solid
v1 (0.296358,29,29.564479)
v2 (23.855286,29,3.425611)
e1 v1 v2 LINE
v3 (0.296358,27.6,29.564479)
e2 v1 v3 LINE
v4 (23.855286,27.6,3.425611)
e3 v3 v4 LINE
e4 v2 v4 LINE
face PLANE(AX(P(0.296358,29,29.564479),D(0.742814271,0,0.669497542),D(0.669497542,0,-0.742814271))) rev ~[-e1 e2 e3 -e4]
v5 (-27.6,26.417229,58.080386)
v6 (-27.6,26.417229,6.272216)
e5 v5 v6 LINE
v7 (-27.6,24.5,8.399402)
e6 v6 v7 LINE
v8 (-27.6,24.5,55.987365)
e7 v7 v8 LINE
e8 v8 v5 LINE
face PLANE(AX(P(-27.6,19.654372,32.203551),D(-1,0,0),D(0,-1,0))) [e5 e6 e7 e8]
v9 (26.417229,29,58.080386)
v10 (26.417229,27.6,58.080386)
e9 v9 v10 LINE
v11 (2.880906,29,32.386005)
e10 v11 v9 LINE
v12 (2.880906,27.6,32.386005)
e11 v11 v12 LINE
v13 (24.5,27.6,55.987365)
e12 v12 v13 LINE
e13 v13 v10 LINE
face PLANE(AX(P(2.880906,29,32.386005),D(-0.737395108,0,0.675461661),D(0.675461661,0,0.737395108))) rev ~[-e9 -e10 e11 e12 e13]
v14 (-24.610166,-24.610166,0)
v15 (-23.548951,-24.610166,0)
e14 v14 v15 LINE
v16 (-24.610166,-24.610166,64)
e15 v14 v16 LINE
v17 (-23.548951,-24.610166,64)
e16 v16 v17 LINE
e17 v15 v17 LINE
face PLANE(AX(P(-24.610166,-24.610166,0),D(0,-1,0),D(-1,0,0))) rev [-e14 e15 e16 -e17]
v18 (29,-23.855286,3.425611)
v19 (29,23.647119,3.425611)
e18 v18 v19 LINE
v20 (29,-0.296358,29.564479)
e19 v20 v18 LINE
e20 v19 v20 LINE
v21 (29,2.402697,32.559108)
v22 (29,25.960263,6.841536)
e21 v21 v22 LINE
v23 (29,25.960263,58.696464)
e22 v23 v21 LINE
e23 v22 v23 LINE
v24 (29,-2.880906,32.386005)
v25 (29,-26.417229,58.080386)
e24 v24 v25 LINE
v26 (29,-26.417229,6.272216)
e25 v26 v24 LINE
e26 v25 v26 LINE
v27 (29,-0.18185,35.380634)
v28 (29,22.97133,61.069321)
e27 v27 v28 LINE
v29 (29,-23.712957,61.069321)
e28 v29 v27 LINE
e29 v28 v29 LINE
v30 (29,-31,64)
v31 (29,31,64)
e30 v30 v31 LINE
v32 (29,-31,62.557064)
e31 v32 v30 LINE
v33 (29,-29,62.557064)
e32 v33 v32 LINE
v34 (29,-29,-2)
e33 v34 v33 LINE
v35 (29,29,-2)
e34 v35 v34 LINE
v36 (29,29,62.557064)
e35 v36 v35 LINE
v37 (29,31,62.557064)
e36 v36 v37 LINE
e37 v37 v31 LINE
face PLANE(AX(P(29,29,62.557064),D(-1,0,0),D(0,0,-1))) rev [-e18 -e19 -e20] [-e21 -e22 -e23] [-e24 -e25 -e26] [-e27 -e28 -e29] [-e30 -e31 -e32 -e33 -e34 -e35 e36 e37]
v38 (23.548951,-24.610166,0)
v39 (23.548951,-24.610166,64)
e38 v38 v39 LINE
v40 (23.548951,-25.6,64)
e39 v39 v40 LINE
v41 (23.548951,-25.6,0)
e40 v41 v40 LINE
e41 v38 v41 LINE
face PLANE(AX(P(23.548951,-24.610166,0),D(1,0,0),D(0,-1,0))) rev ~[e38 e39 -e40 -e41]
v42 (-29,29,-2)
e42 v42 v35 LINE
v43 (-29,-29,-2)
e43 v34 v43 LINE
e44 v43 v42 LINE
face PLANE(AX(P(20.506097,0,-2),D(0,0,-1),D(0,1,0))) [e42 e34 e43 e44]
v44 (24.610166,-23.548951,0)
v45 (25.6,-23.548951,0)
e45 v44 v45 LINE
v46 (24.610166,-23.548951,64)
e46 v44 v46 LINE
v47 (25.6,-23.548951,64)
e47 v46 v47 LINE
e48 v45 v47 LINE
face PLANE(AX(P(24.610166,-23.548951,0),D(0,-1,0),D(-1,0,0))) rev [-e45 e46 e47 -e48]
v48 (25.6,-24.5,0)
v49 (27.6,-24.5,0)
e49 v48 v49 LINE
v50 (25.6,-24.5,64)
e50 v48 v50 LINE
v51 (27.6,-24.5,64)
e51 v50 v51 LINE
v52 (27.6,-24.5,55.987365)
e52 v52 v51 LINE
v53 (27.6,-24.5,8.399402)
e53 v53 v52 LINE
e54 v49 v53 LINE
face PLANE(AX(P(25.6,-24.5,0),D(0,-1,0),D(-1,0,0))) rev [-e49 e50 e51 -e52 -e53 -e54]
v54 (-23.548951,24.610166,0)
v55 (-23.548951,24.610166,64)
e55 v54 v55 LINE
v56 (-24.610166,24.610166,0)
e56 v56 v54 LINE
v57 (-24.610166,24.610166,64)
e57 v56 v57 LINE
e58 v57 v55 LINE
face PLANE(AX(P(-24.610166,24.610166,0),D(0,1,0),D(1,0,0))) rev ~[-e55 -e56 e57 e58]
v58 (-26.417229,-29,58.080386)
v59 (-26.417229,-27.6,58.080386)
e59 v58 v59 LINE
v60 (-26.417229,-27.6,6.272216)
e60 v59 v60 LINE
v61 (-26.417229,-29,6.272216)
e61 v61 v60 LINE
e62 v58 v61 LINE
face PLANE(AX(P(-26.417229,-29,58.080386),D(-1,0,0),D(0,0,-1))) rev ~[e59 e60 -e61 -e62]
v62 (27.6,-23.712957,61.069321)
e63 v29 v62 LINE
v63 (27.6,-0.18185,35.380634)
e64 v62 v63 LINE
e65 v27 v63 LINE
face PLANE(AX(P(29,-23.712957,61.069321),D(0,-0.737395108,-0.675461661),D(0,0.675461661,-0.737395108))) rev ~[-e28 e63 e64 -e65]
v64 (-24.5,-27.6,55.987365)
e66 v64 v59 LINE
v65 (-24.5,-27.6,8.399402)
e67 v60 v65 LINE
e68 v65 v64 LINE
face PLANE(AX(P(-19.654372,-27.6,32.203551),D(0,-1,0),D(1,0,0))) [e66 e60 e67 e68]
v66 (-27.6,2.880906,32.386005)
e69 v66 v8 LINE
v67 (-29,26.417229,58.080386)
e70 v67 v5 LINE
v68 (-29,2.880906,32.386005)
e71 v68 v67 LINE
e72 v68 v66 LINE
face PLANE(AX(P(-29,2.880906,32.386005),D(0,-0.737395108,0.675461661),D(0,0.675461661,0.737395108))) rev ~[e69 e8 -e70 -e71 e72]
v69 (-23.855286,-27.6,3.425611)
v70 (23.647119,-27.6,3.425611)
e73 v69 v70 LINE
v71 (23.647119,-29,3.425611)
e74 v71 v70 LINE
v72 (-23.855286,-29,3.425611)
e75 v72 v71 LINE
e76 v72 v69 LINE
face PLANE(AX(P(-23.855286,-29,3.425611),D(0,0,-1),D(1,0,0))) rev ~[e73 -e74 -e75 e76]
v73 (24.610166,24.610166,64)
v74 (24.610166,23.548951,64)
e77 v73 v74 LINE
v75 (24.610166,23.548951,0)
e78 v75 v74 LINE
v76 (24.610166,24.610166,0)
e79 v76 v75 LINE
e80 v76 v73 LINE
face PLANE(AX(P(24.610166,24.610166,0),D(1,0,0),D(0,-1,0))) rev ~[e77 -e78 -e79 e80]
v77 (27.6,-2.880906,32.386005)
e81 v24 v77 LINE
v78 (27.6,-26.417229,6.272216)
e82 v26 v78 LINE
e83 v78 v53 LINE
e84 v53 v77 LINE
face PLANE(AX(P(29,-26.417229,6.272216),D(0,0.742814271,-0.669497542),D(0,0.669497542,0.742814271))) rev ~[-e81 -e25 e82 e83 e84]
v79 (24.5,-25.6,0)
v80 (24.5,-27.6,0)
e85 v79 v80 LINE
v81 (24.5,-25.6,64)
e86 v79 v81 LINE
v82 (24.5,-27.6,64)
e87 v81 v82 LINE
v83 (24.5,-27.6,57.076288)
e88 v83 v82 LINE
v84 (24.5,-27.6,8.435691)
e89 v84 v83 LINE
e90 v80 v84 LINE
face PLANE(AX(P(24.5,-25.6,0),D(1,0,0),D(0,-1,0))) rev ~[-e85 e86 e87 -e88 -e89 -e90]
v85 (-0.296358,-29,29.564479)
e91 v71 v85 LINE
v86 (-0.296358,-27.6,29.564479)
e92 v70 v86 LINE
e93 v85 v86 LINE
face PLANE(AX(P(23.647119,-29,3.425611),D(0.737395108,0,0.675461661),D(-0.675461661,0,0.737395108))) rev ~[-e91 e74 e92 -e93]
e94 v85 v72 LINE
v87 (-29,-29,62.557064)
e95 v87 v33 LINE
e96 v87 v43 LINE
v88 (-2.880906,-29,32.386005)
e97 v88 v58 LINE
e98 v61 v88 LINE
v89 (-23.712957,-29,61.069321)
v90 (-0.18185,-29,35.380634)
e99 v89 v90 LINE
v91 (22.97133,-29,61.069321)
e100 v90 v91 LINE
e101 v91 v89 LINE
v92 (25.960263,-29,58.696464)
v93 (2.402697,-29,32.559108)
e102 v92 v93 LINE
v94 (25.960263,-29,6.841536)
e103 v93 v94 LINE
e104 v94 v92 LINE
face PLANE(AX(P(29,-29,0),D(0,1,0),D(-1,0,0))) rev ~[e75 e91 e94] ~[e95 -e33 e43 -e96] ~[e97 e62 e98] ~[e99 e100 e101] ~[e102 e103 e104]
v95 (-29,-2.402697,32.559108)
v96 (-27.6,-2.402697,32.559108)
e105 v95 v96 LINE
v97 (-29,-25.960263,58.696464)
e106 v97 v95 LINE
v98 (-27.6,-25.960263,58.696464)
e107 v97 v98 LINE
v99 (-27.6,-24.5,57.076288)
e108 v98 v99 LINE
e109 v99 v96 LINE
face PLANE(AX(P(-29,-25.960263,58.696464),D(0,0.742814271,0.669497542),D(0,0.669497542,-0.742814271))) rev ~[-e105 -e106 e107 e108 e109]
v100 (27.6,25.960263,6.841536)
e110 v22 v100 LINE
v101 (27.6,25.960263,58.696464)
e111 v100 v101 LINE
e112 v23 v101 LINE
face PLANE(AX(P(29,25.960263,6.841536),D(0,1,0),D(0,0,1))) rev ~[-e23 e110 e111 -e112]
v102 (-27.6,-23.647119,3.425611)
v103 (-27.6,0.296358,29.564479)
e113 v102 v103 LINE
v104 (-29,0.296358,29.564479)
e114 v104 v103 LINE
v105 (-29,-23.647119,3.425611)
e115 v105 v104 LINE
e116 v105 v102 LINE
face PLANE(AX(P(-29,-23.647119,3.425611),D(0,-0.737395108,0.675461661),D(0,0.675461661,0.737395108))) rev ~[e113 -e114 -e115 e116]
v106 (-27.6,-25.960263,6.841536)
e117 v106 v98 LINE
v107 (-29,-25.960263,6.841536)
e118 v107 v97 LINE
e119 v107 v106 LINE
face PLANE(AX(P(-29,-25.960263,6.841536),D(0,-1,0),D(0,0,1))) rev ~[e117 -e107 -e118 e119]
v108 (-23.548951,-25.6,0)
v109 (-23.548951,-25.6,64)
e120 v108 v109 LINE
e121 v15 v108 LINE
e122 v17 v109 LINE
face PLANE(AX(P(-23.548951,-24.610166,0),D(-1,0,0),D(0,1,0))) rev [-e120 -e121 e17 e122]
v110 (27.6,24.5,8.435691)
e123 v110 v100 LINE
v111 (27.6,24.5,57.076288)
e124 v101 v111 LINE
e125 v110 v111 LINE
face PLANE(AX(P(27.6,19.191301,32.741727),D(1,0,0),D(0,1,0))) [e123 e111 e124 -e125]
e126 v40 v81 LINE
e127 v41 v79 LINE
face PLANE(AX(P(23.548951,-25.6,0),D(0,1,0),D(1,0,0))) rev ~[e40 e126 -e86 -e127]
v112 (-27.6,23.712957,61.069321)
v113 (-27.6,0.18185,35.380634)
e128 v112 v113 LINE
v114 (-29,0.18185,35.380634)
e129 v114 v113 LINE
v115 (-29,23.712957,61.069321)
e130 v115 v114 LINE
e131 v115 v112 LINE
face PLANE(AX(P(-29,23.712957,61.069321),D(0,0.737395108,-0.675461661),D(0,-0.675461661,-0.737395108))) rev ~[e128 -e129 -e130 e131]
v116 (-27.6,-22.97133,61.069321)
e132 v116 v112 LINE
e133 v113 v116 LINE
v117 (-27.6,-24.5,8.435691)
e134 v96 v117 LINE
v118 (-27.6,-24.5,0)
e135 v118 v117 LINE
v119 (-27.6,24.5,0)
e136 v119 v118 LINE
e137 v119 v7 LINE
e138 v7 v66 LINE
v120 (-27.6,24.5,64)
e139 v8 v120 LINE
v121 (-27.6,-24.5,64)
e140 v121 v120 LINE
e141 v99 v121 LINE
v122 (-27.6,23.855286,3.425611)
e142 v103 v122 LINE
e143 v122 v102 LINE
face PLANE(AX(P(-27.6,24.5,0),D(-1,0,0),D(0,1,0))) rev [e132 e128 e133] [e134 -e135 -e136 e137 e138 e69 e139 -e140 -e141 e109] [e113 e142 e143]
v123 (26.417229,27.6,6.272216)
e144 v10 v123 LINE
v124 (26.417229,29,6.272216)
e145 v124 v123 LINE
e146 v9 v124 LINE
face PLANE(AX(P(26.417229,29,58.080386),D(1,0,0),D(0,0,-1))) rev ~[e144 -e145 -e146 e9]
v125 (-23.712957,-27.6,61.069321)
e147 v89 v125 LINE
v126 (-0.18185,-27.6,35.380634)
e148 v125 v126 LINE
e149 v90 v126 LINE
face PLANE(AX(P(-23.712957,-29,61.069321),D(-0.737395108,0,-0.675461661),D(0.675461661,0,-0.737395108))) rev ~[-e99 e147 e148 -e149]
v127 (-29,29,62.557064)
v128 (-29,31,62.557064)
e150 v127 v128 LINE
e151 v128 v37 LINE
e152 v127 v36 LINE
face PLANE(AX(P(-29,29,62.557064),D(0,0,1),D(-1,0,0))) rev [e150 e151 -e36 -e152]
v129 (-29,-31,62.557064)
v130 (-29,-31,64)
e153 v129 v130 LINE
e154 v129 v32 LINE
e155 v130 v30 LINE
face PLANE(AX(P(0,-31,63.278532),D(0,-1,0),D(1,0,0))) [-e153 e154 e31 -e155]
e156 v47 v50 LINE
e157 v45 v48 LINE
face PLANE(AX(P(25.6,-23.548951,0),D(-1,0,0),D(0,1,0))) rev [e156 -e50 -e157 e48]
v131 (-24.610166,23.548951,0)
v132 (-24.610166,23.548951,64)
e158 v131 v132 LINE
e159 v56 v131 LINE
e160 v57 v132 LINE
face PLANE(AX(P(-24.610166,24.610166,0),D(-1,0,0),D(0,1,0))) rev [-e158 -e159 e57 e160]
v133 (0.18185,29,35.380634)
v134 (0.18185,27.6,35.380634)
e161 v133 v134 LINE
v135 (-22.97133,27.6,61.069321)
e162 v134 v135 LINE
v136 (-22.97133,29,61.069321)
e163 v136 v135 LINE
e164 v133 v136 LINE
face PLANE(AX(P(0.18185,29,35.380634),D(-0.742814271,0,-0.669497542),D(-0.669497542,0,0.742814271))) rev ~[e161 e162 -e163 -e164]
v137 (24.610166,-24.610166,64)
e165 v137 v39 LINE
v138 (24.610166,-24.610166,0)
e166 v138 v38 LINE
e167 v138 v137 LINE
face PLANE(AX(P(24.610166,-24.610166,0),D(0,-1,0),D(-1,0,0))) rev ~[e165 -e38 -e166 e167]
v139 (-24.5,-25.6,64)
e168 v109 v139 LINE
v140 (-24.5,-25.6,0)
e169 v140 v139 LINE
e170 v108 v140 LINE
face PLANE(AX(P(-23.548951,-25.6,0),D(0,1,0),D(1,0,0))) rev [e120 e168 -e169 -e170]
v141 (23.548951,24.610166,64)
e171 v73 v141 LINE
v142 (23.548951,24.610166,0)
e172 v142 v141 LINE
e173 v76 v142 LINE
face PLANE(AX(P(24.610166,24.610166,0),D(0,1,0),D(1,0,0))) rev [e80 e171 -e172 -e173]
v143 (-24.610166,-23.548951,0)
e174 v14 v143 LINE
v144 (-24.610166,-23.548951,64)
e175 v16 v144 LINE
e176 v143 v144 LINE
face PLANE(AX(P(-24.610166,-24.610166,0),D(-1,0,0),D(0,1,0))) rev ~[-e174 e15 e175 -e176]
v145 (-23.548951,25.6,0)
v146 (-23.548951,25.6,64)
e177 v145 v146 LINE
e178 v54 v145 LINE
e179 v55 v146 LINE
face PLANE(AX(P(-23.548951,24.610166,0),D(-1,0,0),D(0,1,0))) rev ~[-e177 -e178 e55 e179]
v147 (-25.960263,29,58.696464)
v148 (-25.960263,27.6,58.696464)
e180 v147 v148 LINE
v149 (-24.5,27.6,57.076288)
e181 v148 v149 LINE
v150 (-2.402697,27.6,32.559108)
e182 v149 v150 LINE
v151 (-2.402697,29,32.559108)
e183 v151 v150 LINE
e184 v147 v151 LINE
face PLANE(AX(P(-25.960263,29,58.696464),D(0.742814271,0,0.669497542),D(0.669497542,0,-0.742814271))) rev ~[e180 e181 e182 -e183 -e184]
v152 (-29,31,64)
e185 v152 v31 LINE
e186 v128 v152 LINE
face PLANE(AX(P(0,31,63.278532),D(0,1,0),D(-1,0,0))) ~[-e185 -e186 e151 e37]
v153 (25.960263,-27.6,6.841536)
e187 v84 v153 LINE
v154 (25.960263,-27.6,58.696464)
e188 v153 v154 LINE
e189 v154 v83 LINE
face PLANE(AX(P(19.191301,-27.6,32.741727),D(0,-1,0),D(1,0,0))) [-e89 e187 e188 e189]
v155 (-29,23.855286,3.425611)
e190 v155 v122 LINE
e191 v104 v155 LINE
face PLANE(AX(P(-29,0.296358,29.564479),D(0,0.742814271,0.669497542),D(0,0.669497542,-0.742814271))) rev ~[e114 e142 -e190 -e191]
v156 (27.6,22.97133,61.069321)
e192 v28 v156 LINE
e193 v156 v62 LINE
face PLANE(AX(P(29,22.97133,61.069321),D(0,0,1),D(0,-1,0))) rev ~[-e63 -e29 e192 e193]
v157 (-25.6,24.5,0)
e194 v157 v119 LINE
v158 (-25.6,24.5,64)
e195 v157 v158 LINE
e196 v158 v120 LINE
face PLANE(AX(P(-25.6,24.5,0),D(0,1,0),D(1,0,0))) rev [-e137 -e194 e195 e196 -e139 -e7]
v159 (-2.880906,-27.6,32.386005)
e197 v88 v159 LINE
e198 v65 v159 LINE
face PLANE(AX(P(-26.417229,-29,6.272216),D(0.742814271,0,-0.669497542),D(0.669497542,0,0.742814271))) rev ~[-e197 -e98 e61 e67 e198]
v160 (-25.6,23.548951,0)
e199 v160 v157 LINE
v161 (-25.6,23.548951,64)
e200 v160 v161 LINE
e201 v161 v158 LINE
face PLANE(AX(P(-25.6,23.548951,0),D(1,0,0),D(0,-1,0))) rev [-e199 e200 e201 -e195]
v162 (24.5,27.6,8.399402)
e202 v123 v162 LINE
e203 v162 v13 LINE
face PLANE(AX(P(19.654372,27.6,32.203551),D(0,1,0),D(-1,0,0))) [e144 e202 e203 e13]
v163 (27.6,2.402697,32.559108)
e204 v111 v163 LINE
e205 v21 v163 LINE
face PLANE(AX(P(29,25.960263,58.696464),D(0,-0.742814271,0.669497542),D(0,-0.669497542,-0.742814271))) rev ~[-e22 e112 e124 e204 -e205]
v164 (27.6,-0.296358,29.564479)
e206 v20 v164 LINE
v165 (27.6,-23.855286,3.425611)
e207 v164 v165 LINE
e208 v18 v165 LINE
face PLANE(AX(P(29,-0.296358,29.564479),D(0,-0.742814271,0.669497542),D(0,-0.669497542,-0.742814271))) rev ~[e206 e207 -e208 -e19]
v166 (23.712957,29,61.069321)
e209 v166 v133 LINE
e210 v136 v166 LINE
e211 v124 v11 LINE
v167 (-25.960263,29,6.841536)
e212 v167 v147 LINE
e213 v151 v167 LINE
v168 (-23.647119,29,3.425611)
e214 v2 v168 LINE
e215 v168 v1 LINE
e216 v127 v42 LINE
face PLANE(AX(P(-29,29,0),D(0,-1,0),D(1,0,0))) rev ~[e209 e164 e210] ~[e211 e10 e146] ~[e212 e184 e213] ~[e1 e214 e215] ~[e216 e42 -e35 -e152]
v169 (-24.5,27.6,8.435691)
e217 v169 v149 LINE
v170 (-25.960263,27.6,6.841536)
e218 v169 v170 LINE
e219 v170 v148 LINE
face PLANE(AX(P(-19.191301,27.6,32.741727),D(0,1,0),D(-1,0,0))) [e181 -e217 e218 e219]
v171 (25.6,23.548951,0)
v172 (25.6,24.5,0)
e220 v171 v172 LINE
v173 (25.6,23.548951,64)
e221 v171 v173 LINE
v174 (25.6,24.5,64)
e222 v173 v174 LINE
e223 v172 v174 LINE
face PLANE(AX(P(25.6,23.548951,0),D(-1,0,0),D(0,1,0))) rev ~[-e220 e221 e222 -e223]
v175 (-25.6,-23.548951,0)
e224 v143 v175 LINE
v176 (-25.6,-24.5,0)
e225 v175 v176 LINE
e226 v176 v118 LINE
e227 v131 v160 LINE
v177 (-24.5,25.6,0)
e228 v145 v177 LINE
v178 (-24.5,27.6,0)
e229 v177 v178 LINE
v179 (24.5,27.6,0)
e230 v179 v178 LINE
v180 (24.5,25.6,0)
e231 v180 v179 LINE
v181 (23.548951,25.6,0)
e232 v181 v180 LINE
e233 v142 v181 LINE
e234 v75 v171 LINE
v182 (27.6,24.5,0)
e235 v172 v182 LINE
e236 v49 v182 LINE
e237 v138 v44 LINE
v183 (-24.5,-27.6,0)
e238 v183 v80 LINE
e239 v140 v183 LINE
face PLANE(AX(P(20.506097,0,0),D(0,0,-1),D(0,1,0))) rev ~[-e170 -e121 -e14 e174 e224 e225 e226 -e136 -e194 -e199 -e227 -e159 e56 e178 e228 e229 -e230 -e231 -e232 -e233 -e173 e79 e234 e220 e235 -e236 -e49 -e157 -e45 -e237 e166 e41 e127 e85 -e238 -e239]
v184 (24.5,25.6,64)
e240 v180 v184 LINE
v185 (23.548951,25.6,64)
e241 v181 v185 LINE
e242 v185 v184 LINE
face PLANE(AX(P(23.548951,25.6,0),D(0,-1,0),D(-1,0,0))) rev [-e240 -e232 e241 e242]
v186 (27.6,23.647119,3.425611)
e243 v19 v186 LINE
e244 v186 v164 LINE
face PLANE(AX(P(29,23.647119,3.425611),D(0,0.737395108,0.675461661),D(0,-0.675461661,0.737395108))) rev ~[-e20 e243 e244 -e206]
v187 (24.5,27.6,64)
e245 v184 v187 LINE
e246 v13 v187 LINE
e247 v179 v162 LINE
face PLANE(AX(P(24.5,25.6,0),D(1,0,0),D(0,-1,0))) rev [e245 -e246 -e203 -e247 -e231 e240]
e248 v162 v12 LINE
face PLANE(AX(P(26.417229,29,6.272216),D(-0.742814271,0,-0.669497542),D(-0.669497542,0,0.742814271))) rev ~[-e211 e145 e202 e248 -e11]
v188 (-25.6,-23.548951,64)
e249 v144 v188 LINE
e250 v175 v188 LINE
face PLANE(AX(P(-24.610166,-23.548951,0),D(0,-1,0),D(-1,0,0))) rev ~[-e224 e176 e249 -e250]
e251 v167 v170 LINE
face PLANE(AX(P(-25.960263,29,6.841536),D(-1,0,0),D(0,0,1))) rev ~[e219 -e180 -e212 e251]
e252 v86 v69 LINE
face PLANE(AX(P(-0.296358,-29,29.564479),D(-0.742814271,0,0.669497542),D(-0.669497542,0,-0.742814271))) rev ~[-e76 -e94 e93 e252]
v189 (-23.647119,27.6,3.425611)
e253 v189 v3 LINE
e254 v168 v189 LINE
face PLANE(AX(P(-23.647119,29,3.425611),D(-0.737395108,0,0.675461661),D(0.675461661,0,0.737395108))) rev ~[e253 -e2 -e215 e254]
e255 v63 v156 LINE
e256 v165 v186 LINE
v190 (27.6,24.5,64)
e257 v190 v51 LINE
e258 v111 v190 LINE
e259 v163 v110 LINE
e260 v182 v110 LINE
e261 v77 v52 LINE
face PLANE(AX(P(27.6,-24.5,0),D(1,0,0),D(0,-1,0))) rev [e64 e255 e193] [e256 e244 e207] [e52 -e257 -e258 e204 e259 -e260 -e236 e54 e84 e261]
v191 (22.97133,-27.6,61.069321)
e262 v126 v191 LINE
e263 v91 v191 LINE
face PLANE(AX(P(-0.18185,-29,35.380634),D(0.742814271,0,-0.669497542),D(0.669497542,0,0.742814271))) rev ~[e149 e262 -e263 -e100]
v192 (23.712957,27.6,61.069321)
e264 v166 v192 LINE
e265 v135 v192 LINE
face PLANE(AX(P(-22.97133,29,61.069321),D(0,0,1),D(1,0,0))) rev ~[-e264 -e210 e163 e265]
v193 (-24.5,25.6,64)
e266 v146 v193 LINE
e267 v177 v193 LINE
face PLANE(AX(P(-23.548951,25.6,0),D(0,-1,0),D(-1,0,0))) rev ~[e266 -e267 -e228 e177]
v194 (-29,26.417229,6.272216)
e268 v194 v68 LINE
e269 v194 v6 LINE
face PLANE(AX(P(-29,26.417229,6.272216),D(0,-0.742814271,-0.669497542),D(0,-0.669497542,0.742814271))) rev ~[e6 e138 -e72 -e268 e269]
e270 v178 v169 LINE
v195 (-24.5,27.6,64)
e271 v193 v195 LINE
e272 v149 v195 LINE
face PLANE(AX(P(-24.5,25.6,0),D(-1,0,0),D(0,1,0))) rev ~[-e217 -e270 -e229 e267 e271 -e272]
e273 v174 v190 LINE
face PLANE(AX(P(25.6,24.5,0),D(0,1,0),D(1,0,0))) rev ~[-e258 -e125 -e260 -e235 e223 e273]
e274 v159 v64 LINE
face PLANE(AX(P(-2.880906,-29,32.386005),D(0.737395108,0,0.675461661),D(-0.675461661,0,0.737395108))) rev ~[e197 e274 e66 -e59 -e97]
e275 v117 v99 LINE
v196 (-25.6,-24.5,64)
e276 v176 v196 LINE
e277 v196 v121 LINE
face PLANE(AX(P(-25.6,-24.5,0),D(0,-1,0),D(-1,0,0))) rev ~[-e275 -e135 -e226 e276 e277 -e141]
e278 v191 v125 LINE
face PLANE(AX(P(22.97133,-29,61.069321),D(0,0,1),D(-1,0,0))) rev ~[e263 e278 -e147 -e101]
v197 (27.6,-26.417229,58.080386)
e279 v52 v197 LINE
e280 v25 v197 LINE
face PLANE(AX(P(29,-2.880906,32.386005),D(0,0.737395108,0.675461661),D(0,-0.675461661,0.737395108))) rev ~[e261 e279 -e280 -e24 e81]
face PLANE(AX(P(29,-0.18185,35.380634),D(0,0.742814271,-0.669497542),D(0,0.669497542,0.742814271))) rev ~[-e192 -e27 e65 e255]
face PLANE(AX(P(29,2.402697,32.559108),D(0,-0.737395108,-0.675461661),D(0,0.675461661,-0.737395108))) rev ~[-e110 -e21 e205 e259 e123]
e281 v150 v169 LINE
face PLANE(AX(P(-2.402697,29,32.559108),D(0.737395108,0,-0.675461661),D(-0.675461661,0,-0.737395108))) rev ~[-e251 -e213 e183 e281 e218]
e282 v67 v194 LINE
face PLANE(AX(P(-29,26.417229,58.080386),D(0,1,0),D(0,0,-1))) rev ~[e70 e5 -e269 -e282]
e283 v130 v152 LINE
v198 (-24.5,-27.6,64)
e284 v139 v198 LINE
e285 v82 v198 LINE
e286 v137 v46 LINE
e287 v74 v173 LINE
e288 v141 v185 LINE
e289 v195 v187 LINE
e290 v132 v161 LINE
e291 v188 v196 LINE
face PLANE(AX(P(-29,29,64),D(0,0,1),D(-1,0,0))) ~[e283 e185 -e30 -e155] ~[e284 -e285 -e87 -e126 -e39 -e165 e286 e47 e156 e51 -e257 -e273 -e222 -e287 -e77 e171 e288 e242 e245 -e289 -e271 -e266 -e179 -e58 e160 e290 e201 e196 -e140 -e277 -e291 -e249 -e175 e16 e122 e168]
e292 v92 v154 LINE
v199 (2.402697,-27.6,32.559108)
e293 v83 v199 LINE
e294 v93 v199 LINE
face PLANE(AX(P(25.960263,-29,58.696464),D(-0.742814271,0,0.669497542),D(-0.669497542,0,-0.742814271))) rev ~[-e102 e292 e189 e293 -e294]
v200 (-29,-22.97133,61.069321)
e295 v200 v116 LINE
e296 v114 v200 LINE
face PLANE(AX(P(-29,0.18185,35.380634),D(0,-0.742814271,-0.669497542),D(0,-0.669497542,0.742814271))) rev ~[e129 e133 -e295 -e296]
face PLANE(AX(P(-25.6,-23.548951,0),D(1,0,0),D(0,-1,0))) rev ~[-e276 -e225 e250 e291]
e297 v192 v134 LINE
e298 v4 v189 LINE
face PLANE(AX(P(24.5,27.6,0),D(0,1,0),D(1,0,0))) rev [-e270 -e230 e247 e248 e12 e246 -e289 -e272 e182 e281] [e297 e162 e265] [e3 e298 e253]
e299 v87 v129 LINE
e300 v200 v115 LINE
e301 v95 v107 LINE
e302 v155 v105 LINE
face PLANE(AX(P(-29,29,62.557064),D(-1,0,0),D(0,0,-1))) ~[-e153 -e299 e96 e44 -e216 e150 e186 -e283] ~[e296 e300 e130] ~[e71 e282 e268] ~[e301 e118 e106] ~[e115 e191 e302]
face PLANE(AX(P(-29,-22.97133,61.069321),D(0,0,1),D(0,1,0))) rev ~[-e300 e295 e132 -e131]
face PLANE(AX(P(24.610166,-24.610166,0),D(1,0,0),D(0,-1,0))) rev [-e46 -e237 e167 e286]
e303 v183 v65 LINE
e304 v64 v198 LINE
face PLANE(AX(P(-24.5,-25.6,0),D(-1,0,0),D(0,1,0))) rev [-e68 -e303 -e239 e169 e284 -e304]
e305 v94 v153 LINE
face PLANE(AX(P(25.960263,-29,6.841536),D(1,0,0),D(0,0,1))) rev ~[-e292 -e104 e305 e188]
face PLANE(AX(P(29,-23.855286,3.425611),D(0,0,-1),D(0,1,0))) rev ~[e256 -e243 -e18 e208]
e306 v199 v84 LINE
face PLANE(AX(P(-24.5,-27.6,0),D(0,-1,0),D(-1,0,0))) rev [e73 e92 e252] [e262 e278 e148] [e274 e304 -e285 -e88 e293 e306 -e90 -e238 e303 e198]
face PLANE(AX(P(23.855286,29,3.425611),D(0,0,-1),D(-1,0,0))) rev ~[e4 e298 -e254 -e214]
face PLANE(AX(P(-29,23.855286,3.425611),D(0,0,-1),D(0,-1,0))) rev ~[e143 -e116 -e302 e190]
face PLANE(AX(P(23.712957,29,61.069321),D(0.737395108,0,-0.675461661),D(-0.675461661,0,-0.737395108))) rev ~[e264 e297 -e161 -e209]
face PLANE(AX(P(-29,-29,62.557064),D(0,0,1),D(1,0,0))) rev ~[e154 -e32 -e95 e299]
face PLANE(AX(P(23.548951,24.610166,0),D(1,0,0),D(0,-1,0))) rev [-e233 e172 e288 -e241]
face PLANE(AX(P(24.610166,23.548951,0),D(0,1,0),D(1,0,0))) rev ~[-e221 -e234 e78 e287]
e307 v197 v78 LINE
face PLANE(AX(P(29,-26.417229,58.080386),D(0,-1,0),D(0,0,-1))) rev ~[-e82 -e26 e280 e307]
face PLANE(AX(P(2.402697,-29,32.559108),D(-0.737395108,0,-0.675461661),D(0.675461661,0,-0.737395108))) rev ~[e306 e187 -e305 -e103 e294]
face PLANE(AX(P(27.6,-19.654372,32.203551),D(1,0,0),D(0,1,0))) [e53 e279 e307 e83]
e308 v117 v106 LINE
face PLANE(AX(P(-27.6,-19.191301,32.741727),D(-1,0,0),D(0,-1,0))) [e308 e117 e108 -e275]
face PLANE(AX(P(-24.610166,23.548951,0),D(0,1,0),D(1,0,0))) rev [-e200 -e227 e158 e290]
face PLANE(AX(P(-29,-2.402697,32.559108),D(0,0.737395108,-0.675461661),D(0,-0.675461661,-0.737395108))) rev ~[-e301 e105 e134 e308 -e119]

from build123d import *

# Parameters (mm, degrees)
F1_DEPTH  = 64
F4_DEPTH  = 1.4
F6_DEPTH  = 2
F8_COUNT  = 4
F9_W      = 58
F9_H      = 1.4429360032
F10_DEPTH = 2


with BuildPart() as f1:
    # F0 (on Top) → F1 (new body)
    with BuildSketch(Plane.XY):
        Polygon((0, -27.6), (0, -29), (29, -29), (24.6101661921, -24.6101661921), (23.5489513725, -24.6101661921), (23.5489513725, -25.6), (24.5, -25.6), (24.5, -27.6), align=None)
    extrude(amount=F1_DEPTH)

    # F2: F1 across plane


with BuildPart() as f1_1:
    add(f1.part)
    add(f1.part.mirror(Plane.YZ))

    # F3 (on face) → F4 (cut)
    with BuildSketch(Plane.XZ.offset(29)):
        Polygon((-2.8809057808, 32.3860045068), (-26.4172293246, 58.0803863704), (-26.4172293246, 6.2722163275), align=None)
        Polygon((22.9713302106, 61.0693208873), (-23.7129572779, 61.0693208873), (-0.1818502389, 35.3806338326), align=None)
        Polygon((25.9602628648, 58.6964643958), (2.4026971831, 32.5591078504), (25.9602628648, 6.8415361457), align=None)
        Polygon((23.6471185492, 3.425611183), (-0.2963583588, 29.5644785245), (-23.855285719, 3.425611183), align=None)
    extrude(amount=-F4_DEPTH, mode=Mode.SUBTRACT)

    # F5 (on face) → F6 (join)
    with BuildSketch(Plane(origin=(0, 0, 0), x_dir=(1, 0, 0), z_dir=(0, 0, -1))):
        Polygon((29, 29), (-29, 29), (0, 0), align=None)
    extrude(amount=F6_DEPTH)


with BuildPart() as f8_1:
    # F8: instance of F1
    add(f1_1.part.rotate(Axis((0, 0, 25.6520500407), (0, 0, -1)), 1 * 360 / F8_COUNT))


with BuildPart() as f8_2:
    # F8: instance of F1
    add(f1_1.part.rotate(Axis((0, 0, 25.6520500407), (0, 0, -1)), 2 * 360 / F8_COUNT))


with BuildPart() as f8_3:
    # F8: instance of F1
    add(f1_1.part.rotate(Axis((0, 0, 25.6520500407), (0, 0, -1)), 3 * 360 / F8_COUNT))


with BuildPart() as f10:
    # F9 (on face) → F10 (new body)
    with BuildSketch(Plane.XZ.offset(29)):
        with Locations((0, 63.2785319984)):
            Rectangle(F9_W, F9_H)
    extrude(amount=F10_DEPTH)


with BuildPart() as f1_2:
    add(f1_1.part)

    add(f8_1.part)  # F11 merges F8_1

    add(f8_2.part)  # F11 merges F8_2

    add(f8_3.part)  # F11 merges F8_3

    add(f10.part)  # F11 merges F10
    # F11: F10 across plane
    add(f10.part.mirror(Plane.XZ))


solid = f1_2.part
